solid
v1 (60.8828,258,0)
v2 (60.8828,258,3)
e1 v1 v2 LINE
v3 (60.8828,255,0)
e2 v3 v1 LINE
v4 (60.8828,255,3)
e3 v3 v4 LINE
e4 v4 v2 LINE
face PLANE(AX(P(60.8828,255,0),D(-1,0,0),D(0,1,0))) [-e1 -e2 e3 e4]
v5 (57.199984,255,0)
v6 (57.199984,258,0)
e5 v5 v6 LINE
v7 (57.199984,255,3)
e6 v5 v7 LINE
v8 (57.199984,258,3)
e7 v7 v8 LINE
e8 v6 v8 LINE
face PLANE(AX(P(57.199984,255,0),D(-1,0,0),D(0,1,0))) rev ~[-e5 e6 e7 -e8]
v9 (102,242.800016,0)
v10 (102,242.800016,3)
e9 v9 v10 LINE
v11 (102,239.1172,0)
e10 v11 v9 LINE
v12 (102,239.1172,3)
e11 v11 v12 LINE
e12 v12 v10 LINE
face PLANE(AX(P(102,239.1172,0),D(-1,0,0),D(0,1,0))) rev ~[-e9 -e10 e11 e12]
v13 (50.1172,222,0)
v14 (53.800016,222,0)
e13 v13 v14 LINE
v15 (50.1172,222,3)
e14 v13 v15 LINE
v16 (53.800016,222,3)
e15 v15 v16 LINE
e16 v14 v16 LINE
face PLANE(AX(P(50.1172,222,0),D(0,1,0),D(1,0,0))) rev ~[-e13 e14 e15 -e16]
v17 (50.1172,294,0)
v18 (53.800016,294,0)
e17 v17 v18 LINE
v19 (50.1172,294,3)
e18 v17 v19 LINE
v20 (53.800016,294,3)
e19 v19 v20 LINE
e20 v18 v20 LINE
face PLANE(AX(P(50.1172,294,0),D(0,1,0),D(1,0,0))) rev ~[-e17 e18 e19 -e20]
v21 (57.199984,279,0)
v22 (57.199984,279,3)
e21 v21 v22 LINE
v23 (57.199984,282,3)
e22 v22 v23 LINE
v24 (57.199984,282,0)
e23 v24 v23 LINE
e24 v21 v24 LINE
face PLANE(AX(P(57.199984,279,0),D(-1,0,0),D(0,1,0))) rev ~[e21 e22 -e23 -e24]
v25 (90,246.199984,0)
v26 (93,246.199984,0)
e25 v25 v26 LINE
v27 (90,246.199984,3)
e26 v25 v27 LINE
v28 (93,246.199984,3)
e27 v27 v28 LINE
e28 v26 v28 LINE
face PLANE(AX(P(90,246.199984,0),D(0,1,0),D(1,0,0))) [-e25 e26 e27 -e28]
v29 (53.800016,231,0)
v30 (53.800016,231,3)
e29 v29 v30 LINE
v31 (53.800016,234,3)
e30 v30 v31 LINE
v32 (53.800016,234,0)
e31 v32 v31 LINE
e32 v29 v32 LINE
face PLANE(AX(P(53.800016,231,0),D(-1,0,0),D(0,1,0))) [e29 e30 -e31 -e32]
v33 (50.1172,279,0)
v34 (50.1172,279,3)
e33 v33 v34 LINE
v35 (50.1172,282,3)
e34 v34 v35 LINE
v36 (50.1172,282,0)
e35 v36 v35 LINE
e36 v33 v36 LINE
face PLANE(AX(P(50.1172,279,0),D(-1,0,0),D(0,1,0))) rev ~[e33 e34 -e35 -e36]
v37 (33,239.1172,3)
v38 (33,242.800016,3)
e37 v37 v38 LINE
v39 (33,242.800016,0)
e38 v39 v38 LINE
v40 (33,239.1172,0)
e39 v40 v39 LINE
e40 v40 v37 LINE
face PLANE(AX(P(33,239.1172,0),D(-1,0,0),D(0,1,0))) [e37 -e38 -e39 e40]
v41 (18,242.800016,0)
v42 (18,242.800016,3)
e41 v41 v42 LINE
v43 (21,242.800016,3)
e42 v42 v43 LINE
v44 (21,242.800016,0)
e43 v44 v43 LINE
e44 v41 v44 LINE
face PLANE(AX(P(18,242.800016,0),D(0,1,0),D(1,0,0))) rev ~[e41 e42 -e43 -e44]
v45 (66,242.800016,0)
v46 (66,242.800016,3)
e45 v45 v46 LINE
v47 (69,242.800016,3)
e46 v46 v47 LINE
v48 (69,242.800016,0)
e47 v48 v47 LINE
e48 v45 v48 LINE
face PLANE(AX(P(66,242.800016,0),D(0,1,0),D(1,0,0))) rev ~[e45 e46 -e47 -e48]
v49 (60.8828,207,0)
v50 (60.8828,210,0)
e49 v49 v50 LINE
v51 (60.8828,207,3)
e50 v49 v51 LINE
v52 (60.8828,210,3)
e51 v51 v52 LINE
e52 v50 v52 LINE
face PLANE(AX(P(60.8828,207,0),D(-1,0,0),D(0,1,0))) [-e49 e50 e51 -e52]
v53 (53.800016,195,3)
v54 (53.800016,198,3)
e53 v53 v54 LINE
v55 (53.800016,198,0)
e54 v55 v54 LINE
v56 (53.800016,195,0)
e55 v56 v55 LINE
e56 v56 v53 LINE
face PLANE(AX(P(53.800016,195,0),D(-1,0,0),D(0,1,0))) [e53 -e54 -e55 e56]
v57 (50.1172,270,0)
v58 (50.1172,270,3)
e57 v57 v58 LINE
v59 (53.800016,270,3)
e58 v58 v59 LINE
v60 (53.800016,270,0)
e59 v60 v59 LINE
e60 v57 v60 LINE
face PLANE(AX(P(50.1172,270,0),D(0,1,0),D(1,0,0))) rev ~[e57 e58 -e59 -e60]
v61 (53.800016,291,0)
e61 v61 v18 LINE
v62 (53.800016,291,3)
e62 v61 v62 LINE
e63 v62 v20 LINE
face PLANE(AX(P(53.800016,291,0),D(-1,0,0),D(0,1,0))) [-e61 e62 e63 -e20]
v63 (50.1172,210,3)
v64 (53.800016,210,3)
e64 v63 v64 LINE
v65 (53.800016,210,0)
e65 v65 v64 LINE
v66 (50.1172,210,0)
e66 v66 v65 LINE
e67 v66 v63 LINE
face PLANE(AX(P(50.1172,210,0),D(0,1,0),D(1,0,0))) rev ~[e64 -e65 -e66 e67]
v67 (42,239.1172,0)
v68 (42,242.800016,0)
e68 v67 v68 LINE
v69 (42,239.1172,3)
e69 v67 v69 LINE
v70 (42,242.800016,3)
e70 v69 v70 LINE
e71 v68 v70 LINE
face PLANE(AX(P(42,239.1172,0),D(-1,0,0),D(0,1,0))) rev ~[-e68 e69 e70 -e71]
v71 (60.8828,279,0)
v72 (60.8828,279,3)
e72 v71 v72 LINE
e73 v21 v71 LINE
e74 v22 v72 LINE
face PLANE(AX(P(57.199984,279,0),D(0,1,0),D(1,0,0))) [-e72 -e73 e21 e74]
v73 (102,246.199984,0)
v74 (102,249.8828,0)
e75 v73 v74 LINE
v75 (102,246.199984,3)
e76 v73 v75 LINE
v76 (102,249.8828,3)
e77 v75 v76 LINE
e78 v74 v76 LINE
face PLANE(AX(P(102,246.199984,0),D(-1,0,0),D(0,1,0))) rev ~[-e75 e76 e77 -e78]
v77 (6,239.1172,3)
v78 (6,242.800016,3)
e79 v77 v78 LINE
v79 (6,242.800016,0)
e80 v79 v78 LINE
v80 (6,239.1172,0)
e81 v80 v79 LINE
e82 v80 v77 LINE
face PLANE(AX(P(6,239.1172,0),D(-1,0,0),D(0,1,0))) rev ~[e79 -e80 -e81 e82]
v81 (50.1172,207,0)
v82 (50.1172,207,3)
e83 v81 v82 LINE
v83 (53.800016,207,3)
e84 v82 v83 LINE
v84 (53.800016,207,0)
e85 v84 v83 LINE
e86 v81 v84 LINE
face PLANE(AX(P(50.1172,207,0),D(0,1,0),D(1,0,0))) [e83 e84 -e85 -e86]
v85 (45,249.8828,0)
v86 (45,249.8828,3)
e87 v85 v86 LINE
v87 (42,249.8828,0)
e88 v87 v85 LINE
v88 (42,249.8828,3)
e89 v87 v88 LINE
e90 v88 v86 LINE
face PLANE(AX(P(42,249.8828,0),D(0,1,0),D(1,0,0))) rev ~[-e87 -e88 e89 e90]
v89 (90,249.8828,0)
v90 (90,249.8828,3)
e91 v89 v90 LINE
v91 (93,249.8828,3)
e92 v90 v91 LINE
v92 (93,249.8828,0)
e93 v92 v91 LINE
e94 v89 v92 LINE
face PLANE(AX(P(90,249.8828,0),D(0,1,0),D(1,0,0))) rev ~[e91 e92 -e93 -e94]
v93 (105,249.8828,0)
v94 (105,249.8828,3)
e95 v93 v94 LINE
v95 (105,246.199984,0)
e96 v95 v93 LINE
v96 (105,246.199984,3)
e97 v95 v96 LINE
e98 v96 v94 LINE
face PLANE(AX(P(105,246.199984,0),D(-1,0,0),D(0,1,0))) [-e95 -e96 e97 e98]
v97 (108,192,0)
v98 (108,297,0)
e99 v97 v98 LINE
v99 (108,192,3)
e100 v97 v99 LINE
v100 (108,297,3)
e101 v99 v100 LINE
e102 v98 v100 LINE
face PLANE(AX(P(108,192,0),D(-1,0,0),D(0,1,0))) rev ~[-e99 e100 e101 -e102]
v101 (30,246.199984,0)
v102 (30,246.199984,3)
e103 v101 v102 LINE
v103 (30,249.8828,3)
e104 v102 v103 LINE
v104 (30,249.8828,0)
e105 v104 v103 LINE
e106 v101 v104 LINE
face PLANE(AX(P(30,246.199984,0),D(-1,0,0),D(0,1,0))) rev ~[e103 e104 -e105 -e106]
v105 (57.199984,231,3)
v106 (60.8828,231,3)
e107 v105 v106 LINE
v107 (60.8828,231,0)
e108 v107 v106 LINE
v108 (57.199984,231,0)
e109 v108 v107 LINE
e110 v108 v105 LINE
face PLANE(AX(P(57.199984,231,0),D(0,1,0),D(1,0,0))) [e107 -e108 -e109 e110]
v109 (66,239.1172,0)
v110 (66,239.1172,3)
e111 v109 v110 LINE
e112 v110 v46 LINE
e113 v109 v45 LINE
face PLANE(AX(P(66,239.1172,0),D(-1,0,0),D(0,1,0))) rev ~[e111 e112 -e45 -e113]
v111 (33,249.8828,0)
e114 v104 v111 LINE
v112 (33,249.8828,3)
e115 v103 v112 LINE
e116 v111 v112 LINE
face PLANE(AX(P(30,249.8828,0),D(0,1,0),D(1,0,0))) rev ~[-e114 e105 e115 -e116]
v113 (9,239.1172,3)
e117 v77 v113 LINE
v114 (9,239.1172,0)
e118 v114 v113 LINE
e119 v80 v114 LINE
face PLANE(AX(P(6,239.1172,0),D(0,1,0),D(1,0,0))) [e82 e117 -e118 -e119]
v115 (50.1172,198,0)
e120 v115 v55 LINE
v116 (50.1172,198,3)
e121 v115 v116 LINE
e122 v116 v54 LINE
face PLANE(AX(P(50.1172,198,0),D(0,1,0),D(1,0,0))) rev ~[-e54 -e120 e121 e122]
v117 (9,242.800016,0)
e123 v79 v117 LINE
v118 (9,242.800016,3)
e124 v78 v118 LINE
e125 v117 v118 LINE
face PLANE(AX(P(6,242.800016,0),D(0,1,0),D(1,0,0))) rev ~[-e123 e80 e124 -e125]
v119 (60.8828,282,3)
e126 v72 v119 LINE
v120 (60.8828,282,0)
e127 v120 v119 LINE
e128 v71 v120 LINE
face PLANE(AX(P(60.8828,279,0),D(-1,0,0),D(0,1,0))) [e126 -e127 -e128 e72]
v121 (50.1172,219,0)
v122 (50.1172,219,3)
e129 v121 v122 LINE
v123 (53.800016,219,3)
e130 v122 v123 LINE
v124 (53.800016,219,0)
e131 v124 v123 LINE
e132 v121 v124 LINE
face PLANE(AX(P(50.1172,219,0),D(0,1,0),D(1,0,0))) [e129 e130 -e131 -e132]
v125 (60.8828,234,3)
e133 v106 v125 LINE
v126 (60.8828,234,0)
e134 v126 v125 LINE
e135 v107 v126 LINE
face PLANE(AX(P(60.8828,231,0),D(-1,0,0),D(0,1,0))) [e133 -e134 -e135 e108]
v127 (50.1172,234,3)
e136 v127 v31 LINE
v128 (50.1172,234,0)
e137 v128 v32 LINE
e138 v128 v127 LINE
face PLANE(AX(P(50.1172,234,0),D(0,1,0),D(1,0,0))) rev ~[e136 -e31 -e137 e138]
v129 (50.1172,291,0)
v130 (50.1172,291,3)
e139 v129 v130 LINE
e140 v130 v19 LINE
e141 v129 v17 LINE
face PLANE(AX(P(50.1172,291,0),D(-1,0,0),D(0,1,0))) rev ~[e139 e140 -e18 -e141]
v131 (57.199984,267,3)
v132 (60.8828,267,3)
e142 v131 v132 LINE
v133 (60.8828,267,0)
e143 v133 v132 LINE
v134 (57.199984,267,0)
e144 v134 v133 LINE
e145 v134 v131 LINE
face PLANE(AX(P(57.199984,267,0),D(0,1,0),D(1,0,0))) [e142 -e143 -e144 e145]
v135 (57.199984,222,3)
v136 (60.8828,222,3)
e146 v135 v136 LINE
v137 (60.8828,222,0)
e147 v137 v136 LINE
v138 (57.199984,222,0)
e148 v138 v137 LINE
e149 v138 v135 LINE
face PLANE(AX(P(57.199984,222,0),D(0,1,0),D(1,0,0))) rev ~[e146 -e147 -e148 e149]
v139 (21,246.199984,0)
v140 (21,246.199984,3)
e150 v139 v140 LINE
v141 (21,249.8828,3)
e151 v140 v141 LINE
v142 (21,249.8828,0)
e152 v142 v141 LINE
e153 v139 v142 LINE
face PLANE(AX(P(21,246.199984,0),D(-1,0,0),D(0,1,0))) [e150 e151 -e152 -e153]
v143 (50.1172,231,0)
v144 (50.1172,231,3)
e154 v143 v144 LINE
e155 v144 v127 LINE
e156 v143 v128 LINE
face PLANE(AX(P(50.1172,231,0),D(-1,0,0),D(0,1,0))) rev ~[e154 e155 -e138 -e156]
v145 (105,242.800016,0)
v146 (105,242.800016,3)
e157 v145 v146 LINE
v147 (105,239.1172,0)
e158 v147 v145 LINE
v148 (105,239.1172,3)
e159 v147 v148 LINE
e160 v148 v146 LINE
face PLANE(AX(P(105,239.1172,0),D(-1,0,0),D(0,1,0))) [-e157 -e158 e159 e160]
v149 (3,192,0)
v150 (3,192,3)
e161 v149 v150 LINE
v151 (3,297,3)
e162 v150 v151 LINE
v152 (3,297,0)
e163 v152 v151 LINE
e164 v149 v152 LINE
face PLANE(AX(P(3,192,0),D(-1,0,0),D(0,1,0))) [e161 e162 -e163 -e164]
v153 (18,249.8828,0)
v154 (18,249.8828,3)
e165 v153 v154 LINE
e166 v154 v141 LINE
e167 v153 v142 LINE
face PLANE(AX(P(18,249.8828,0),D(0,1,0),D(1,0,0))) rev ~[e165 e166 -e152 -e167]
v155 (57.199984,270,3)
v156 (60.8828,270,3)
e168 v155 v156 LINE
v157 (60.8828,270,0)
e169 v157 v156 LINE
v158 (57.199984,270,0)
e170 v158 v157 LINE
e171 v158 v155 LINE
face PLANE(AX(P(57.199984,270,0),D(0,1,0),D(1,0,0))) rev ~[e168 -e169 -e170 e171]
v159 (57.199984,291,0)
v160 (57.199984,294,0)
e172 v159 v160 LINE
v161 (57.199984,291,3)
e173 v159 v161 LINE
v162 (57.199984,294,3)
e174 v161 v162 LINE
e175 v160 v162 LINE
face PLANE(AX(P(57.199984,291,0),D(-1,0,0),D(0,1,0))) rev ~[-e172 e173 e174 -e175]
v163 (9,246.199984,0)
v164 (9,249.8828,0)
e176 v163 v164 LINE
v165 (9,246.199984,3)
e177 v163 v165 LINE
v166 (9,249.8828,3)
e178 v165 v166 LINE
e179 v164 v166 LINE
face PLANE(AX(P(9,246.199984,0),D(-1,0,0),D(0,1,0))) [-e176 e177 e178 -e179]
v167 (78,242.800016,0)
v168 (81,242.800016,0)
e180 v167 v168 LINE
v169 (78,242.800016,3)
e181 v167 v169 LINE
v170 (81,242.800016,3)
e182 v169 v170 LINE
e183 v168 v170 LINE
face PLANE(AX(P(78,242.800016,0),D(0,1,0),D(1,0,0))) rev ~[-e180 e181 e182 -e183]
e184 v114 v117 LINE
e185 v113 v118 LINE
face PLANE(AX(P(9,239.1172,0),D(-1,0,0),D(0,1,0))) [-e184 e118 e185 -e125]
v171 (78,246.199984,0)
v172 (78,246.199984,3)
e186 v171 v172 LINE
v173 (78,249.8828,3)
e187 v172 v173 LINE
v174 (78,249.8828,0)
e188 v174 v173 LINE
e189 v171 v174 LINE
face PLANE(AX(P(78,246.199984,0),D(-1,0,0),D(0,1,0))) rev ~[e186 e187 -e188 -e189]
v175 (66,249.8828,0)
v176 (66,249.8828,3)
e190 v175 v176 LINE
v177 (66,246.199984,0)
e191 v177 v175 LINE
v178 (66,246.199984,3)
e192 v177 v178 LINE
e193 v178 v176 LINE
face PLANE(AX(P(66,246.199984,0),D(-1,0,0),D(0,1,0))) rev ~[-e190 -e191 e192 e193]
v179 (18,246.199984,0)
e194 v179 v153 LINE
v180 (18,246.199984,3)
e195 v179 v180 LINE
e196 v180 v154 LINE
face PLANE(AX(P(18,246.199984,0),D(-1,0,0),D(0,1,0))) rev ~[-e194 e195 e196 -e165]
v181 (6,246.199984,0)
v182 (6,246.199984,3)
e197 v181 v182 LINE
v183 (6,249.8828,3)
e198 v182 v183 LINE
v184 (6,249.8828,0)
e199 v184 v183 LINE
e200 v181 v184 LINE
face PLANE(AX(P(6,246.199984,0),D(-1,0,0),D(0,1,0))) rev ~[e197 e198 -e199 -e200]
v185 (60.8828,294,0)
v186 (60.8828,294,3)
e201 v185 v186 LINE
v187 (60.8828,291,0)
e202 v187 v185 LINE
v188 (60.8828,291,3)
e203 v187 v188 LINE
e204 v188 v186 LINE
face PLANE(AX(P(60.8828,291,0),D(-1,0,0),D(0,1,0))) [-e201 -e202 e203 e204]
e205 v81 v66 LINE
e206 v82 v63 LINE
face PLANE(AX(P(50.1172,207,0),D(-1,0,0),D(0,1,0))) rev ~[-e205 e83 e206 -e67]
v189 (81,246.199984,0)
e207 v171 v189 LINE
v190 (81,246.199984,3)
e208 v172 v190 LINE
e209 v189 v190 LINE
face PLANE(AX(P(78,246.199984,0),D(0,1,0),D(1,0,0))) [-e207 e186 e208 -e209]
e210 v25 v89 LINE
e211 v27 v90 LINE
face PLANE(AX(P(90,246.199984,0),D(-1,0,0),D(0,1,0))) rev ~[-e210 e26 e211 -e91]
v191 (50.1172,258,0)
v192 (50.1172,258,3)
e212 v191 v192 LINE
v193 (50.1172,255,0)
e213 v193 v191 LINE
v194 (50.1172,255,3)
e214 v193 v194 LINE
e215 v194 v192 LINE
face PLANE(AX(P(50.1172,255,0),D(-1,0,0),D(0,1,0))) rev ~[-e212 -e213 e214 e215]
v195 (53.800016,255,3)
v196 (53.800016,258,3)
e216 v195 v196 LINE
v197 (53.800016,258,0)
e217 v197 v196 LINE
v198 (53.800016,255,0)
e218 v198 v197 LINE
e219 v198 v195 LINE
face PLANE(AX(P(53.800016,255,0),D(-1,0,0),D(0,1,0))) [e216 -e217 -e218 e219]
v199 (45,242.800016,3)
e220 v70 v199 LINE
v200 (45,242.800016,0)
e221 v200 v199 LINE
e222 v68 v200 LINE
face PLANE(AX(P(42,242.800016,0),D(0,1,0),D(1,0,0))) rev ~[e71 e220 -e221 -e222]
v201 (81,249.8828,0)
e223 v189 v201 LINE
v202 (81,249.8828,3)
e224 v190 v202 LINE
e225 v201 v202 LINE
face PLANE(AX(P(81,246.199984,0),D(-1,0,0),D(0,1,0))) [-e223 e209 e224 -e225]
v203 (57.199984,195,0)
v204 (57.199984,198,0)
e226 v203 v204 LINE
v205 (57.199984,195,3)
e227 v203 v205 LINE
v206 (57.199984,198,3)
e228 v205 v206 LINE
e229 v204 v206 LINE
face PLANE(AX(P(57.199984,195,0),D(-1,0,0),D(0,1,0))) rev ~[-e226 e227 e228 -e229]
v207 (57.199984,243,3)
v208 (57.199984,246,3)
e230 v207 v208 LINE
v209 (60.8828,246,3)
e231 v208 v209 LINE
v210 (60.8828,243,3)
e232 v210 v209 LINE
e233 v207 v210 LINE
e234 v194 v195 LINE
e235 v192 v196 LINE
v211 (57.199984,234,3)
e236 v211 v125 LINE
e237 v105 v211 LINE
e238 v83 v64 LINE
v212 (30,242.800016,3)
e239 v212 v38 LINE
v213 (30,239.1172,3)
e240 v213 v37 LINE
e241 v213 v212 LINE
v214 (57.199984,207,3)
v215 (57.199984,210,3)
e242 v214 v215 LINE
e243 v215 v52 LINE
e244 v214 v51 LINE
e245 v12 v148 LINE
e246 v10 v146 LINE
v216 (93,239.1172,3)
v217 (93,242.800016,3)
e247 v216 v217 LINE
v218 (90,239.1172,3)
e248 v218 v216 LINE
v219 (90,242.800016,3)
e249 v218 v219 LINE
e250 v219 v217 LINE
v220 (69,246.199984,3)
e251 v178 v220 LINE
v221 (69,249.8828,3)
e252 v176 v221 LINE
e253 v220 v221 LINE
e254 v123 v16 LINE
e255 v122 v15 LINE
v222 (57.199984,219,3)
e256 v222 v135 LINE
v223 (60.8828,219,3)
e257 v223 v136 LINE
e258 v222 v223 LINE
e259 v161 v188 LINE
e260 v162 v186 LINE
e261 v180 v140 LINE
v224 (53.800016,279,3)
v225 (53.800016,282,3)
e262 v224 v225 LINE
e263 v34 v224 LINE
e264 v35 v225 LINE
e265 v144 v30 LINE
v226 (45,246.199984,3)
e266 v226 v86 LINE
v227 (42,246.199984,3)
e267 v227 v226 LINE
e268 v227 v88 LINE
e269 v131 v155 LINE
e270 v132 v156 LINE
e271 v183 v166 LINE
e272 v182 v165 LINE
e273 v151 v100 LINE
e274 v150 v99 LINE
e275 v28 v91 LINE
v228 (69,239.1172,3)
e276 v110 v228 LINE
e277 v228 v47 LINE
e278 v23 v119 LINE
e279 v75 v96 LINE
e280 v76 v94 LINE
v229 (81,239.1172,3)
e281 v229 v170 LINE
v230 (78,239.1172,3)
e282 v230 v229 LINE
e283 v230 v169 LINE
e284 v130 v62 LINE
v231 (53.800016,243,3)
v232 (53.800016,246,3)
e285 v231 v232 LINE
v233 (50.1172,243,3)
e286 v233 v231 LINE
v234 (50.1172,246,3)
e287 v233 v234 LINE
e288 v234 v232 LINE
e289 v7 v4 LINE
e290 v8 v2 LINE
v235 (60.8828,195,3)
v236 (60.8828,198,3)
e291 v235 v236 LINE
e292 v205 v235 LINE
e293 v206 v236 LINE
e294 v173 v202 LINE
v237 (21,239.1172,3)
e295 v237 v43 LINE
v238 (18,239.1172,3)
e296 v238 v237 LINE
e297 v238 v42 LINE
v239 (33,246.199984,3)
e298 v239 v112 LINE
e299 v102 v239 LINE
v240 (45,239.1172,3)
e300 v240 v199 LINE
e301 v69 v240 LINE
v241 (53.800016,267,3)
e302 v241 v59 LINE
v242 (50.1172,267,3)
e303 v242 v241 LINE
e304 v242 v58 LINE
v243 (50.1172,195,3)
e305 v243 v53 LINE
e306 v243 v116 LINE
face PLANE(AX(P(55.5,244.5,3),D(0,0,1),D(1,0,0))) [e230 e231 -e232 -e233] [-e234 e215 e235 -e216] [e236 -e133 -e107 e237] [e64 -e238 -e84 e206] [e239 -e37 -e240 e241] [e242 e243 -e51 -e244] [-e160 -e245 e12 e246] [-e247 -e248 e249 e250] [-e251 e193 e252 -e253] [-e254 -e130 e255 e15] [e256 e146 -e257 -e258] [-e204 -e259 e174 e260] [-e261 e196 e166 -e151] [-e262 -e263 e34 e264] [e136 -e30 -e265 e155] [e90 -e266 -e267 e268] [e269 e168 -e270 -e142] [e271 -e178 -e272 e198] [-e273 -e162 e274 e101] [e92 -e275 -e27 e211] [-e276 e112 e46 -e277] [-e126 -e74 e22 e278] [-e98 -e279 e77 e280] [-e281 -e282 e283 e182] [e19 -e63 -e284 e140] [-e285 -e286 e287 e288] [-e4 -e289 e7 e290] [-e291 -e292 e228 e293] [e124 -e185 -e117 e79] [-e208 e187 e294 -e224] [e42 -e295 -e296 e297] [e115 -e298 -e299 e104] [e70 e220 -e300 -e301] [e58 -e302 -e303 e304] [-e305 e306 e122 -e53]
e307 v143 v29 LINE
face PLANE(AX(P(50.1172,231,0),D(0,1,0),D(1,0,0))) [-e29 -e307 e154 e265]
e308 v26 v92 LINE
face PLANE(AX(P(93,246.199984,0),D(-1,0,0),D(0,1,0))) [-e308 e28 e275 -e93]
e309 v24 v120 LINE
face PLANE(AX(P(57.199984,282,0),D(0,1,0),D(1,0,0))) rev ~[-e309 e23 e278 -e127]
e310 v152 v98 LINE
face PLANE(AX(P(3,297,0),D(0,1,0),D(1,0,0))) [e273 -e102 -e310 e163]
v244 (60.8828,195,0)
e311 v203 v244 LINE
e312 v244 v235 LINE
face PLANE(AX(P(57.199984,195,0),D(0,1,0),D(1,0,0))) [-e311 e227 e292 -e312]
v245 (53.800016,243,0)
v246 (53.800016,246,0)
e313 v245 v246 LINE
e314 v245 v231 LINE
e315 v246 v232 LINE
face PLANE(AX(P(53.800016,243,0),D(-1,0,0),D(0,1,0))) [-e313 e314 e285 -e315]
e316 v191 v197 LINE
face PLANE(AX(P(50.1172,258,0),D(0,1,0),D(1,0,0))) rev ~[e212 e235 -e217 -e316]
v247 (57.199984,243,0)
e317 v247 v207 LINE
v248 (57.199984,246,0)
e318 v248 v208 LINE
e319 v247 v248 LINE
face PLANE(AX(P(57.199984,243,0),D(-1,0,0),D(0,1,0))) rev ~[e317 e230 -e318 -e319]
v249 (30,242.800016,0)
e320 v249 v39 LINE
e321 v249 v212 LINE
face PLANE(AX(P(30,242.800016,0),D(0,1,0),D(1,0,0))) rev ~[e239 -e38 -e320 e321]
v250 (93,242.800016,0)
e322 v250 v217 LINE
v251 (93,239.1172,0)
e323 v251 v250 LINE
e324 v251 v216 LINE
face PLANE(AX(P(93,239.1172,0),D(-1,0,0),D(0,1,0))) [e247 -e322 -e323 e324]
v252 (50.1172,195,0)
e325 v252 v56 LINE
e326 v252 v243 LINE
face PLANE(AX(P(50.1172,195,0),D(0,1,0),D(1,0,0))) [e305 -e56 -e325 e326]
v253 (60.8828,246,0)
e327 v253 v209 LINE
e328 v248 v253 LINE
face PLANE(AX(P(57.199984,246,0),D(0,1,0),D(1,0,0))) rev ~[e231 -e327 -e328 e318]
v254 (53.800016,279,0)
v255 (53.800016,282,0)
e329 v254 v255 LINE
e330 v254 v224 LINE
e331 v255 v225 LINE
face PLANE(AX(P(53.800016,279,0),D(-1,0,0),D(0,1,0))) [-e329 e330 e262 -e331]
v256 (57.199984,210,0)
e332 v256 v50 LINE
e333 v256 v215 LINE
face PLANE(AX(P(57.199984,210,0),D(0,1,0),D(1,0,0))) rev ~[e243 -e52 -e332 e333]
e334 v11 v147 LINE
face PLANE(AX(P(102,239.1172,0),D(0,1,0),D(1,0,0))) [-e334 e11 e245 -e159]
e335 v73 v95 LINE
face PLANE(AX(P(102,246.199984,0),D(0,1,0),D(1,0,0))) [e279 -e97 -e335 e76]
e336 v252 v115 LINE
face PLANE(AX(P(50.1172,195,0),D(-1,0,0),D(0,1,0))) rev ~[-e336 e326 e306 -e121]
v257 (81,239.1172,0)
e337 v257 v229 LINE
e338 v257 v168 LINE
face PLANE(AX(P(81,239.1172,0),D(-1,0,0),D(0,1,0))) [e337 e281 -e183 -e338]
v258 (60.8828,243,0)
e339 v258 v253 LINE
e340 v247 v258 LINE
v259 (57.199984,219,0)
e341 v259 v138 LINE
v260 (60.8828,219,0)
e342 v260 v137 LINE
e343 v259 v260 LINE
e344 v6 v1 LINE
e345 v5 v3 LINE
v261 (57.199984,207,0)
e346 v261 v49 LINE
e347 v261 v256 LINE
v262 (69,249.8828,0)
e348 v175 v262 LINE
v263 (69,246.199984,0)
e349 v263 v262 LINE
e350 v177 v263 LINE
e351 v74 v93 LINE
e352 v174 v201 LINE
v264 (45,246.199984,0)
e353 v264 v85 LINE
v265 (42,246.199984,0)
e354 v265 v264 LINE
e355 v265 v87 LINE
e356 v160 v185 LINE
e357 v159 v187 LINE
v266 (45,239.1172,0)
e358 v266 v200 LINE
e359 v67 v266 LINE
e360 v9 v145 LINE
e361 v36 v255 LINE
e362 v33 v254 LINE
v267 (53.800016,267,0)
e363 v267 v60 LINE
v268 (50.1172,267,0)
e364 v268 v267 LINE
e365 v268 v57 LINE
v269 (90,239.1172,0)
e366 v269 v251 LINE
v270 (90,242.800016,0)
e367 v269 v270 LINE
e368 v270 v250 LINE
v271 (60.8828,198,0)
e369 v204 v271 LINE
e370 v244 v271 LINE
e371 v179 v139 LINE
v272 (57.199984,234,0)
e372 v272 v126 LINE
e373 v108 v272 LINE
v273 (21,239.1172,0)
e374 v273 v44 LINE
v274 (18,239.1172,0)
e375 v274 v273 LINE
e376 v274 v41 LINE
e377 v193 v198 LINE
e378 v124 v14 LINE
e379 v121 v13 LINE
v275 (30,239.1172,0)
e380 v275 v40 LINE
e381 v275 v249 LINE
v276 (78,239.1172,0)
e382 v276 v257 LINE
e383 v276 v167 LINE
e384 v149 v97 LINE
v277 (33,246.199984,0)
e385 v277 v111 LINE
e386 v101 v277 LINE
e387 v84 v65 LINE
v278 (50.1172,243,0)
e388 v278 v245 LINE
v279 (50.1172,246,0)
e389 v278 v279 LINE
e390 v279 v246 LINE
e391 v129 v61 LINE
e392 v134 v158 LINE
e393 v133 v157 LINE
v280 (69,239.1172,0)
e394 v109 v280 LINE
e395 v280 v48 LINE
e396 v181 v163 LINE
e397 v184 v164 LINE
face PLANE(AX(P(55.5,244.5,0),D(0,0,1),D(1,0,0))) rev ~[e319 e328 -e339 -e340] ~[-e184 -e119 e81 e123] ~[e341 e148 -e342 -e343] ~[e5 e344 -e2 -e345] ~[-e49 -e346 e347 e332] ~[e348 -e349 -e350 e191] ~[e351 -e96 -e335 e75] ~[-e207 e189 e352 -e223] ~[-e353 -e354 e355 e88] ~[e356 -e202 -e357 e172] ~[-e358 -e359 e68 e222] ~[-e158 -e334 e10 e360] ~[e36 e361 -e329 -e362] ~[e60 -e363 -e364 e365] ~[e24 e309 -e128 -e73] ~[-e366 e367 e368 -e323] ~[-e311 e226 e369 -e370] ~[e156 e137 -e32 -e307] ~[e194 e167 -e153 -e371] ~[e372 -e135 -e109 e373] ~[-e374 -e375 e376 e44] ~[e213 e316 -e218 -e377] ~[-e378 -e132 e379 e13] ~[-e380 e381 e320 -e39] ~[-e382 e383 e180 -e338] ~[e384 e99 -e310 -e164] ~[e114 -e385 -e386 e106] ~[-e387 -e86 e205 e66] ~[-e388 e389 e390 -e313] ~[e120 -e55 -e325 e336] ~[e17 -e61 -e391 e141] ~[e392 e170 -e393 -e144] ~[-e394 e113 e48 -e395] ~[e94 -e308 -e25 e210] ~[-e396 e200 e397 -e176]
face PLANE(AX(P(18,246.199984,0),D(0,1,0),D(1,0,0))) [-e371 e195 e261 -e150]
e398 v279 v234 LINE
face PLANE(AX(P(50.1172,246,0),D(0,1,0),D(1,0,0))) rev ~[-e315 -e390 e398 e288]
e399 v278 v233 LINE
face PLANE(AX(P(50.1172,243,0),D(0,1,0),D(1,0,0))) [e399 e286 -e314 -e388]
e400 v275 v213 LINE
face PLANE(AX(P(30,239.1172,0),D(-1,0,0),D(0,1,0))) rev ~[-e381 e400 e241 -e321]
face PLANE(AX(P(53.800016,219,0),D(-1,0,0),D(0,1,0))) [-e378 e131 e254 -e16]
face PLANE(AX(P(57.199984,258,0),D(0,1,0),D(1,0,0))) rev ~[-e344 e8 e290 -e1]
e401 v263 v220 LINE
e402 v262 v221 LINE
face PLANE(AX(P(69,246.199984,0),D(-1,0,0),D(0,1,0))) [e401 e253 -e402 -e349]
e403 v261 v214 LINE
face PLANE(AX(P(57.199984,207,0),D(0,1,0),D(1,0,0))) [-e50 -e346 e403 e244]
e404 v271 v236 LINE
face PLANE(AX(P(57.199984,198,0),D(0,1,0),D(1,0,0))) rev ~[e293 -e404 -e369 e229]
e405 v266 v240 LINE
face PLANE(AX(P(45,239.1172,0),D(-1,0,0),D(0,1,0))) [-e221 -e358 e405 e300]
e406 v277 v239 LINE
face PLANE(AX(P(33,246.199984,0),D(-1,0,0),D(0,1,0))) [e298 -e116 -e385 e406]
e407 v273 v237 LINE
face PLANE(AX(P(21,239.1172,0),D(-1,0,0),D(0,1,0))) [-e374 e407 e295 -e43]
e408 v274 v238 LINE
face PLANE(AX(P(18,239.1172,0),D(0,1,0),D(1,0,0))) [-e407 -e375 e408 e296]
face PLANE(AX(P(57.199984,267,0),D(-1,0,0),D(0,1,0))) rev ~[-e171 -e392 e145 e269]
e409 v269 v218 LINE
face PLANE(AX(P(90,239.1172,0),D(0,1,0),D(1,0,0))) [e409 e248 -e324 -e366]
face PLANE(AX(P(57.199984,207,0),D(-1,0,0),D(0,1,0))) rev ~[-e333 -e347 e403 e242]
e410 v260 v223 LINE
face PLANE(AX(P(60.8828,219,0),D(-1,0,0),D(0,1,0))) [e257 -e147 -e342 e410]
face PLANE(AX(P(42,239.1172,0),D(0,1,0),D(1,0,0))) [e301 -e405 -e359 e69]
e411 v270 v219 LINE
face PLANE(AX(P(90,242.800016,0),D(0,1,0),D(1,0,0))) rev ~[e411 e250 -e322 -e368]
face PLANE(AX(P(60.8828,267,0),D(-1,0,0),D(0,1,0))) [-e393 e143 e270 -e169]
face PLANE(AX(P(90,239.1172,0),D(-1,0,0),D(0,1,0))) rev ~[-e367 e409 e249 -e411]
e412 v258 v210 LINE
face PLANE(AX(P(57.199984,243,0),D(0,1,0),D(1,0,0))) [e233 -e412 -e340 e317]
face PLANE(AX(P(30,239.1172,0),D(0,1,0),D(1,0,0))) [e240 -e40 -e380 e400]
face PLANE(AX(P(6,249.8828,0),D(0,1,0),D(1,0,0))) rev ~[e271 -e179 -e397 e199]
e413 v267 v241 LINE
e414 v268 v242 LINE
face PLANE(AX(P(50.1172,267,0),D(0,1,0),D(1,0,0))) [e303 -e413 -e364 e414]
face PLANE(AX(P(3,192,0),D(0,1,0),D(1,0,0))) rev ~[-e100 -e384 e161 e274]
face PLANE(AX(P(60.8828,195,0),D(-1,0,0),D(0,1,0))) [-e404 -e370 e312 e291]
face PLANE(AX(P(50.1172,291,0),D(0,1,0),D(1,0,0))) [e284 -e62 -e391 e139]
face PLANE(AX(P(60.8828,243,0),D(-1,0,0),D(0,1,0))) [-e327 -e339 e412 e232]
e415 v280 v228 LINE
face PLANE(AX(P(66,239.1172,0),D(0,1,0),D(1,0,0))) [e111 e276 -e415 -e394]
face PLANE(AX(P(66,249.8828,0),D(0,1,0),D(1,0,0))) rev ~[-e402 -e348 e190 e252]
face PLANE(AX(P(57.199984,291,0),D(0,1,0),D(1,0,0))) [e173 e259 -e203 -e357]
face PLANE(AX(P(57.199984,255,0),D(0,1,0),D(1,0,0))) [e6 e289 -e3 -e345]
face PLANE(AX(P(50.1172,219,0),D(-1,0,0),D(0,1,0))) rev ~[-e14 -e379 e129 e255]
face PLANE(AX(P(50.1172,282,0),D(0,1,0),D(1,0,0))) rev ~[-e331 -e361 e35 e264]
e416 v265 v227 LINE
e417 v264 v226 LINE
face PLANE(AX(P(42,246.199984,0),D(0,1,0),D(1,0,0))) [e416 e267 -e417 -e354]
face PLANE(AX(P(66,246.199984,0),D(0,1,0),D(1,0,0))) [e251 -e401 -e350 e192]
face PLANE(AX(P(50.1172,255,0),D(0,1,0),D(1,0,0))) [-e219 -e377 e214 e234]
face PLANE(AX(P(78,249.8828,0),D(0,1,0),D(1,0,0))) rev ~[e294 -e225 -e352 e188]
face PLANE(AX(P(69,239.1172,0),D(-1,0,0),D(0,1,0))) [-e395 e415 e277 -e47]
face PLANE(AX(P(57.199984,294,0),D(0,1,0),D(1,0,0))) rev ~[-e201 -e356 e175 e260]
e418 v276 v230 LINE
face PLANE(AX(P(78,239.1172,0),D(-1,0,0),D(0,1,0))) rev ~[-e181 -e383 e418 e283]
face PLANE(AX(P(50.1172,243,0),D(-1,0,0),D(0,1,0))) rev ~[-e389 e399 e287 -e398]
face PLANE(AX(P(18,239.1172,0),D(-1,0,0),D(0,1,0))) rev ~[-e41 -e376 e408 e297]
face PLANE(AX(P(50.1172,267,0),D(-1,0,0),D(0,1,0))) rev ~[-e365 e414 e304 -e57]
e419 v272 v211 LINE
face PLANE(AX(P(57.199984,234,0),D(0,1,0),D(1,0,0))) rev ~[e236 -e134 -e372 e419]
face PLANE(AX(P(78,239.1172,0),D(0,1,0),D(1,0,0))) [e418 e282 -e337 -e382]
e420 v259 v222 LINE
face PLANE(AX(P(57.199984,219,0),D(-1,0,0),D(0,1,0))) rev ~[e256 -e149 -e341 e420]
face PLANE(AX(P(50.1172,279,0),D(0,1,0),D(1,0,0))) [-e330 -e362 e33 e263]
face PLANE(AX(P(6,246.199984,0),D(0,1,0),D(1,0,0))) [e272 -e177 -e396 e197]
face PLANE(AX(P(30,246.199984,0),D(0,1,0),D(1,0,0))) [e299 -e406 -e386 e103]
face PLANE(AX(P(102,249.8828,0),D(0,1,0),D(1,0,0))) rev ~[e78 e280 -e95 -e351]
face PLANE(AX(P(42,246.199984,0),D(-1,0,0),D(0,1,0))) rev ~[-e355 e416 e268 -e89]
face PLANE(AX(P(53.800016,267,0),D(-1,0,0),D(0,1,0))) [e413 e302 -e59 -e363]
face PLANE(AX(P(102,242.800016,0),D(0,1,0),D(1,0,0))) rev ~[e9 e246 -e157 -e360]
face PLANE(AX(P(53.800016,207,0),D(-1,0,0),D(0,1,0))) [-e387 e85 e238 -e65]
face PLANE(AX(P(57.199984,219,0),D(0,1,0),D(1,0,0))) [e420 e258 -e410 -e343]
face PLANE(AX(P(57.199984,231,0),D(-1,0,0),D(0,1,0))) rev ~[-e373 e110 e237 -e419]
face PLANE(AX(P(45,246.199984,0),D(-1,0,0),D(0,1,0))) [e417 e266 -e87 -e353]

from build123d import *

# Parameters (mm, degrees)
SKETCH1_W           = 105
SKETCH1_H           = 105
SKETCH1_W_2         = 3
SKETCH1_H_2         = 3.682816402
SKETCH1_W_3         = 3.682816402
SKETCH1_H_3         = 3
BOSS_EXTRUDE1_DEPTH = 3


with BuildPart() as part:
    # Sketch1 → Boss-Extrude1 (new body)
    with BuildSketch(Plane.XY):
        with Locations((55.5, 244.5)):
            Rectangle(SKETCH1_W, SKETCH1_H)
        with Locations((19.5, 240.958607901)):
            Rectangle(SKETCH1_W_2, SKETCH1_H_2, mode=Mode.SUBTRACT)
        with Locations((7.5, 240.958607901)):
            Rectangle(SKETCH1_W_2, SKETCH1_H_2, mode=Mode.SUBTRACT)
        with Locations((31.5, 240.958607901)):
            Rectangle(SKETCH1_W_2, SKETCH1_H_2, mode=Mode.SUBTRACT)
        with Locations((51.958607901, 232.5)):
            Rectangle(SKETCH1_W_3, SKETCH1_H_3, mode=Mode.SUBTRACT)
        with Locations((51.958607901, 220.5)):
            Rectangle(SKETCH1_W_3, SKETCH1_H_3, mode=Mode.SUBTRACT)
        with Locations((51.958607901, 280.5)):
            Rectangle(SKETCH1_W_3, SKETCH1_H_3, mode=Mode.SUBTRACT)
        with Locations((51.958607901, 268.5)):
            Rectangle(SKETCH1_W_3, SKETCH1_H_3, mode=Mode.SUBTRACT)
        with Locations((79.5, 240.958607901)):
            Rectangle(SKETCH1_W_2, SKETCH1_H_2, mode=Mode.SUBTRACT)
        with Locations((91.5, 240.958607901)):
            Rectangle(SKETCH1_W_2, SKETCH1_H_2, mode=Mode.SUBTRACT)
        with Locations((51.958607901, 292.5)):
            Rectangle(SKETCH1_W_3, SKETCH1_H_3, mode=Mode.SUBTRACT)
        with Locations((7.5, 248.041392099)):
            Rectangle(SKETCH1_W_2, SKETCH1_H_2, mode=Mode.SUBTRACT)
        with Locations((19.5, 248.041392099)):
            Rectangle(SKETCH1_W_2, SKETCH1_H_2, mode=Mode.SUBTRACT)
        with Locations((31.5, 248.041392099)):
            Rectangle(SKETCH1_W_2, SKETCH1_H_2, mode=Mode.SUBTRACT)
        with Locations((67.5, 248.041392099)):
            Rectangle(SKETCH1_W_2, SKETCH1_H_2, mode=Mode.SUBTRACT)
        with Locations((43.5, 248.041392099)):
            Rectangle(SKETCH1_W_2, SKETCH1_H_2, mode=Mode.SUBTRACT)
        with Locations((79.5, 248.041392099)):
            Rectangle(SKETCH1_W_2, SKETCH1_H_2, mode=Mode.SUBTRACT)
        with Locations((91.5, 248.041392099)):
            Rectangle(SKETCH1_W_2, SKETCH1_H_2, mode=Mode.SUBTRACT)
        with Locations((103.5, 248.041392099)):
            Rectangle(SKETCH1_W_2, SKETCH1_H_2, mode=Mode.SUBTRACT)
        with Locations((43.5, 240.958607901)):
            Rectangle(SKETCH1_W_2, SKETCH1_H_2, mode=Mode.SUBTRACT)
        with Locations((67.5, 240.958607901)):
            Rectangle(SKETCH1_W_2, SKETCH1_H_2, mode=Mode.SUBTRACT)
        with Locations((103.5, 240.958607901)):
            Rectangle(SKETCH1_W_2, SKETCH1_H_2, mode=Mode.SUBTRACT)
        with Locations((59.041392099, 292.5)):
            Rectangle(SKETCH1_W_3, SKETCH1_H_3, mode=Mode.SUBTRACT)
        with Locations((59.041392099, 280.5)):
            Rectangle(SKETCH1_W_3, SKETCH1_H_3, mode=Mode.SUBTRACT)
        with Locations((59.041392099, 268.5)):
            Rectangle(SKETCH1_W_3, SKETCH1_H_3, mode=Mode.SUBTRACT)
        with Locations((59.041392099, 256.5)):
            Rectangle(SKETCH1_W_3, SKETCH1_H_3, mode=Mode.SUBTRACT)
        with Locations((59.041392099, 244.5)):
            Rectangle(SKETCH1_W_3, SKETCH1_H_3, mode=Mode.SUBTRACT)
        with Locations((59.041392099, 232.5)):
            Rectangle(SKETCH1_W_3, SKETCH1_H_3, mode=Mode.SUBTRACT)
        with Locations((59.041392099, 220.5)):
            Rectangle(SKETCH1_W_3, SKETCH1_H_3, mode=Mode.SUBTRACT)
        with Locations((59.041392099, 208.5)):
            Rectangle(SKETCH1_W_3, SKETCH1_H_3, mode=Mode.SUBTRACT)
        with Locations((59.041392099, 196.5)):
            Rectangle(SKETCH1_W_3, SKETCH1_H_3, mode=Mode.SUBTRACT)
        with Locations((51.958607901, 244.5)):
            Rectangle(SKETCH1_W_3, SKETCH1_H_3, mode=Mode.SUBTRACT)
        with Locations((51.958607901, 256.5)):
            Rectangle(SKETCH1_W_3, SKETCH1_H_3, mode=Mode.SUBTRACT)
        with Locations((51.958607901, 196.5)):
            Rectangle(SKETCH1_W_3, SKETCH1_H_3, mode=Mode.SUBTRACT)
        with Locations((51.958607901, 208.5)):
            Rectangle(SKETCH1_W_3, SKETCH1_H_3, mode=Mode.SUBTRACT)
    extrude(amount=BOSS_EXTRUDE1_DEPTH)


solid = part.part
